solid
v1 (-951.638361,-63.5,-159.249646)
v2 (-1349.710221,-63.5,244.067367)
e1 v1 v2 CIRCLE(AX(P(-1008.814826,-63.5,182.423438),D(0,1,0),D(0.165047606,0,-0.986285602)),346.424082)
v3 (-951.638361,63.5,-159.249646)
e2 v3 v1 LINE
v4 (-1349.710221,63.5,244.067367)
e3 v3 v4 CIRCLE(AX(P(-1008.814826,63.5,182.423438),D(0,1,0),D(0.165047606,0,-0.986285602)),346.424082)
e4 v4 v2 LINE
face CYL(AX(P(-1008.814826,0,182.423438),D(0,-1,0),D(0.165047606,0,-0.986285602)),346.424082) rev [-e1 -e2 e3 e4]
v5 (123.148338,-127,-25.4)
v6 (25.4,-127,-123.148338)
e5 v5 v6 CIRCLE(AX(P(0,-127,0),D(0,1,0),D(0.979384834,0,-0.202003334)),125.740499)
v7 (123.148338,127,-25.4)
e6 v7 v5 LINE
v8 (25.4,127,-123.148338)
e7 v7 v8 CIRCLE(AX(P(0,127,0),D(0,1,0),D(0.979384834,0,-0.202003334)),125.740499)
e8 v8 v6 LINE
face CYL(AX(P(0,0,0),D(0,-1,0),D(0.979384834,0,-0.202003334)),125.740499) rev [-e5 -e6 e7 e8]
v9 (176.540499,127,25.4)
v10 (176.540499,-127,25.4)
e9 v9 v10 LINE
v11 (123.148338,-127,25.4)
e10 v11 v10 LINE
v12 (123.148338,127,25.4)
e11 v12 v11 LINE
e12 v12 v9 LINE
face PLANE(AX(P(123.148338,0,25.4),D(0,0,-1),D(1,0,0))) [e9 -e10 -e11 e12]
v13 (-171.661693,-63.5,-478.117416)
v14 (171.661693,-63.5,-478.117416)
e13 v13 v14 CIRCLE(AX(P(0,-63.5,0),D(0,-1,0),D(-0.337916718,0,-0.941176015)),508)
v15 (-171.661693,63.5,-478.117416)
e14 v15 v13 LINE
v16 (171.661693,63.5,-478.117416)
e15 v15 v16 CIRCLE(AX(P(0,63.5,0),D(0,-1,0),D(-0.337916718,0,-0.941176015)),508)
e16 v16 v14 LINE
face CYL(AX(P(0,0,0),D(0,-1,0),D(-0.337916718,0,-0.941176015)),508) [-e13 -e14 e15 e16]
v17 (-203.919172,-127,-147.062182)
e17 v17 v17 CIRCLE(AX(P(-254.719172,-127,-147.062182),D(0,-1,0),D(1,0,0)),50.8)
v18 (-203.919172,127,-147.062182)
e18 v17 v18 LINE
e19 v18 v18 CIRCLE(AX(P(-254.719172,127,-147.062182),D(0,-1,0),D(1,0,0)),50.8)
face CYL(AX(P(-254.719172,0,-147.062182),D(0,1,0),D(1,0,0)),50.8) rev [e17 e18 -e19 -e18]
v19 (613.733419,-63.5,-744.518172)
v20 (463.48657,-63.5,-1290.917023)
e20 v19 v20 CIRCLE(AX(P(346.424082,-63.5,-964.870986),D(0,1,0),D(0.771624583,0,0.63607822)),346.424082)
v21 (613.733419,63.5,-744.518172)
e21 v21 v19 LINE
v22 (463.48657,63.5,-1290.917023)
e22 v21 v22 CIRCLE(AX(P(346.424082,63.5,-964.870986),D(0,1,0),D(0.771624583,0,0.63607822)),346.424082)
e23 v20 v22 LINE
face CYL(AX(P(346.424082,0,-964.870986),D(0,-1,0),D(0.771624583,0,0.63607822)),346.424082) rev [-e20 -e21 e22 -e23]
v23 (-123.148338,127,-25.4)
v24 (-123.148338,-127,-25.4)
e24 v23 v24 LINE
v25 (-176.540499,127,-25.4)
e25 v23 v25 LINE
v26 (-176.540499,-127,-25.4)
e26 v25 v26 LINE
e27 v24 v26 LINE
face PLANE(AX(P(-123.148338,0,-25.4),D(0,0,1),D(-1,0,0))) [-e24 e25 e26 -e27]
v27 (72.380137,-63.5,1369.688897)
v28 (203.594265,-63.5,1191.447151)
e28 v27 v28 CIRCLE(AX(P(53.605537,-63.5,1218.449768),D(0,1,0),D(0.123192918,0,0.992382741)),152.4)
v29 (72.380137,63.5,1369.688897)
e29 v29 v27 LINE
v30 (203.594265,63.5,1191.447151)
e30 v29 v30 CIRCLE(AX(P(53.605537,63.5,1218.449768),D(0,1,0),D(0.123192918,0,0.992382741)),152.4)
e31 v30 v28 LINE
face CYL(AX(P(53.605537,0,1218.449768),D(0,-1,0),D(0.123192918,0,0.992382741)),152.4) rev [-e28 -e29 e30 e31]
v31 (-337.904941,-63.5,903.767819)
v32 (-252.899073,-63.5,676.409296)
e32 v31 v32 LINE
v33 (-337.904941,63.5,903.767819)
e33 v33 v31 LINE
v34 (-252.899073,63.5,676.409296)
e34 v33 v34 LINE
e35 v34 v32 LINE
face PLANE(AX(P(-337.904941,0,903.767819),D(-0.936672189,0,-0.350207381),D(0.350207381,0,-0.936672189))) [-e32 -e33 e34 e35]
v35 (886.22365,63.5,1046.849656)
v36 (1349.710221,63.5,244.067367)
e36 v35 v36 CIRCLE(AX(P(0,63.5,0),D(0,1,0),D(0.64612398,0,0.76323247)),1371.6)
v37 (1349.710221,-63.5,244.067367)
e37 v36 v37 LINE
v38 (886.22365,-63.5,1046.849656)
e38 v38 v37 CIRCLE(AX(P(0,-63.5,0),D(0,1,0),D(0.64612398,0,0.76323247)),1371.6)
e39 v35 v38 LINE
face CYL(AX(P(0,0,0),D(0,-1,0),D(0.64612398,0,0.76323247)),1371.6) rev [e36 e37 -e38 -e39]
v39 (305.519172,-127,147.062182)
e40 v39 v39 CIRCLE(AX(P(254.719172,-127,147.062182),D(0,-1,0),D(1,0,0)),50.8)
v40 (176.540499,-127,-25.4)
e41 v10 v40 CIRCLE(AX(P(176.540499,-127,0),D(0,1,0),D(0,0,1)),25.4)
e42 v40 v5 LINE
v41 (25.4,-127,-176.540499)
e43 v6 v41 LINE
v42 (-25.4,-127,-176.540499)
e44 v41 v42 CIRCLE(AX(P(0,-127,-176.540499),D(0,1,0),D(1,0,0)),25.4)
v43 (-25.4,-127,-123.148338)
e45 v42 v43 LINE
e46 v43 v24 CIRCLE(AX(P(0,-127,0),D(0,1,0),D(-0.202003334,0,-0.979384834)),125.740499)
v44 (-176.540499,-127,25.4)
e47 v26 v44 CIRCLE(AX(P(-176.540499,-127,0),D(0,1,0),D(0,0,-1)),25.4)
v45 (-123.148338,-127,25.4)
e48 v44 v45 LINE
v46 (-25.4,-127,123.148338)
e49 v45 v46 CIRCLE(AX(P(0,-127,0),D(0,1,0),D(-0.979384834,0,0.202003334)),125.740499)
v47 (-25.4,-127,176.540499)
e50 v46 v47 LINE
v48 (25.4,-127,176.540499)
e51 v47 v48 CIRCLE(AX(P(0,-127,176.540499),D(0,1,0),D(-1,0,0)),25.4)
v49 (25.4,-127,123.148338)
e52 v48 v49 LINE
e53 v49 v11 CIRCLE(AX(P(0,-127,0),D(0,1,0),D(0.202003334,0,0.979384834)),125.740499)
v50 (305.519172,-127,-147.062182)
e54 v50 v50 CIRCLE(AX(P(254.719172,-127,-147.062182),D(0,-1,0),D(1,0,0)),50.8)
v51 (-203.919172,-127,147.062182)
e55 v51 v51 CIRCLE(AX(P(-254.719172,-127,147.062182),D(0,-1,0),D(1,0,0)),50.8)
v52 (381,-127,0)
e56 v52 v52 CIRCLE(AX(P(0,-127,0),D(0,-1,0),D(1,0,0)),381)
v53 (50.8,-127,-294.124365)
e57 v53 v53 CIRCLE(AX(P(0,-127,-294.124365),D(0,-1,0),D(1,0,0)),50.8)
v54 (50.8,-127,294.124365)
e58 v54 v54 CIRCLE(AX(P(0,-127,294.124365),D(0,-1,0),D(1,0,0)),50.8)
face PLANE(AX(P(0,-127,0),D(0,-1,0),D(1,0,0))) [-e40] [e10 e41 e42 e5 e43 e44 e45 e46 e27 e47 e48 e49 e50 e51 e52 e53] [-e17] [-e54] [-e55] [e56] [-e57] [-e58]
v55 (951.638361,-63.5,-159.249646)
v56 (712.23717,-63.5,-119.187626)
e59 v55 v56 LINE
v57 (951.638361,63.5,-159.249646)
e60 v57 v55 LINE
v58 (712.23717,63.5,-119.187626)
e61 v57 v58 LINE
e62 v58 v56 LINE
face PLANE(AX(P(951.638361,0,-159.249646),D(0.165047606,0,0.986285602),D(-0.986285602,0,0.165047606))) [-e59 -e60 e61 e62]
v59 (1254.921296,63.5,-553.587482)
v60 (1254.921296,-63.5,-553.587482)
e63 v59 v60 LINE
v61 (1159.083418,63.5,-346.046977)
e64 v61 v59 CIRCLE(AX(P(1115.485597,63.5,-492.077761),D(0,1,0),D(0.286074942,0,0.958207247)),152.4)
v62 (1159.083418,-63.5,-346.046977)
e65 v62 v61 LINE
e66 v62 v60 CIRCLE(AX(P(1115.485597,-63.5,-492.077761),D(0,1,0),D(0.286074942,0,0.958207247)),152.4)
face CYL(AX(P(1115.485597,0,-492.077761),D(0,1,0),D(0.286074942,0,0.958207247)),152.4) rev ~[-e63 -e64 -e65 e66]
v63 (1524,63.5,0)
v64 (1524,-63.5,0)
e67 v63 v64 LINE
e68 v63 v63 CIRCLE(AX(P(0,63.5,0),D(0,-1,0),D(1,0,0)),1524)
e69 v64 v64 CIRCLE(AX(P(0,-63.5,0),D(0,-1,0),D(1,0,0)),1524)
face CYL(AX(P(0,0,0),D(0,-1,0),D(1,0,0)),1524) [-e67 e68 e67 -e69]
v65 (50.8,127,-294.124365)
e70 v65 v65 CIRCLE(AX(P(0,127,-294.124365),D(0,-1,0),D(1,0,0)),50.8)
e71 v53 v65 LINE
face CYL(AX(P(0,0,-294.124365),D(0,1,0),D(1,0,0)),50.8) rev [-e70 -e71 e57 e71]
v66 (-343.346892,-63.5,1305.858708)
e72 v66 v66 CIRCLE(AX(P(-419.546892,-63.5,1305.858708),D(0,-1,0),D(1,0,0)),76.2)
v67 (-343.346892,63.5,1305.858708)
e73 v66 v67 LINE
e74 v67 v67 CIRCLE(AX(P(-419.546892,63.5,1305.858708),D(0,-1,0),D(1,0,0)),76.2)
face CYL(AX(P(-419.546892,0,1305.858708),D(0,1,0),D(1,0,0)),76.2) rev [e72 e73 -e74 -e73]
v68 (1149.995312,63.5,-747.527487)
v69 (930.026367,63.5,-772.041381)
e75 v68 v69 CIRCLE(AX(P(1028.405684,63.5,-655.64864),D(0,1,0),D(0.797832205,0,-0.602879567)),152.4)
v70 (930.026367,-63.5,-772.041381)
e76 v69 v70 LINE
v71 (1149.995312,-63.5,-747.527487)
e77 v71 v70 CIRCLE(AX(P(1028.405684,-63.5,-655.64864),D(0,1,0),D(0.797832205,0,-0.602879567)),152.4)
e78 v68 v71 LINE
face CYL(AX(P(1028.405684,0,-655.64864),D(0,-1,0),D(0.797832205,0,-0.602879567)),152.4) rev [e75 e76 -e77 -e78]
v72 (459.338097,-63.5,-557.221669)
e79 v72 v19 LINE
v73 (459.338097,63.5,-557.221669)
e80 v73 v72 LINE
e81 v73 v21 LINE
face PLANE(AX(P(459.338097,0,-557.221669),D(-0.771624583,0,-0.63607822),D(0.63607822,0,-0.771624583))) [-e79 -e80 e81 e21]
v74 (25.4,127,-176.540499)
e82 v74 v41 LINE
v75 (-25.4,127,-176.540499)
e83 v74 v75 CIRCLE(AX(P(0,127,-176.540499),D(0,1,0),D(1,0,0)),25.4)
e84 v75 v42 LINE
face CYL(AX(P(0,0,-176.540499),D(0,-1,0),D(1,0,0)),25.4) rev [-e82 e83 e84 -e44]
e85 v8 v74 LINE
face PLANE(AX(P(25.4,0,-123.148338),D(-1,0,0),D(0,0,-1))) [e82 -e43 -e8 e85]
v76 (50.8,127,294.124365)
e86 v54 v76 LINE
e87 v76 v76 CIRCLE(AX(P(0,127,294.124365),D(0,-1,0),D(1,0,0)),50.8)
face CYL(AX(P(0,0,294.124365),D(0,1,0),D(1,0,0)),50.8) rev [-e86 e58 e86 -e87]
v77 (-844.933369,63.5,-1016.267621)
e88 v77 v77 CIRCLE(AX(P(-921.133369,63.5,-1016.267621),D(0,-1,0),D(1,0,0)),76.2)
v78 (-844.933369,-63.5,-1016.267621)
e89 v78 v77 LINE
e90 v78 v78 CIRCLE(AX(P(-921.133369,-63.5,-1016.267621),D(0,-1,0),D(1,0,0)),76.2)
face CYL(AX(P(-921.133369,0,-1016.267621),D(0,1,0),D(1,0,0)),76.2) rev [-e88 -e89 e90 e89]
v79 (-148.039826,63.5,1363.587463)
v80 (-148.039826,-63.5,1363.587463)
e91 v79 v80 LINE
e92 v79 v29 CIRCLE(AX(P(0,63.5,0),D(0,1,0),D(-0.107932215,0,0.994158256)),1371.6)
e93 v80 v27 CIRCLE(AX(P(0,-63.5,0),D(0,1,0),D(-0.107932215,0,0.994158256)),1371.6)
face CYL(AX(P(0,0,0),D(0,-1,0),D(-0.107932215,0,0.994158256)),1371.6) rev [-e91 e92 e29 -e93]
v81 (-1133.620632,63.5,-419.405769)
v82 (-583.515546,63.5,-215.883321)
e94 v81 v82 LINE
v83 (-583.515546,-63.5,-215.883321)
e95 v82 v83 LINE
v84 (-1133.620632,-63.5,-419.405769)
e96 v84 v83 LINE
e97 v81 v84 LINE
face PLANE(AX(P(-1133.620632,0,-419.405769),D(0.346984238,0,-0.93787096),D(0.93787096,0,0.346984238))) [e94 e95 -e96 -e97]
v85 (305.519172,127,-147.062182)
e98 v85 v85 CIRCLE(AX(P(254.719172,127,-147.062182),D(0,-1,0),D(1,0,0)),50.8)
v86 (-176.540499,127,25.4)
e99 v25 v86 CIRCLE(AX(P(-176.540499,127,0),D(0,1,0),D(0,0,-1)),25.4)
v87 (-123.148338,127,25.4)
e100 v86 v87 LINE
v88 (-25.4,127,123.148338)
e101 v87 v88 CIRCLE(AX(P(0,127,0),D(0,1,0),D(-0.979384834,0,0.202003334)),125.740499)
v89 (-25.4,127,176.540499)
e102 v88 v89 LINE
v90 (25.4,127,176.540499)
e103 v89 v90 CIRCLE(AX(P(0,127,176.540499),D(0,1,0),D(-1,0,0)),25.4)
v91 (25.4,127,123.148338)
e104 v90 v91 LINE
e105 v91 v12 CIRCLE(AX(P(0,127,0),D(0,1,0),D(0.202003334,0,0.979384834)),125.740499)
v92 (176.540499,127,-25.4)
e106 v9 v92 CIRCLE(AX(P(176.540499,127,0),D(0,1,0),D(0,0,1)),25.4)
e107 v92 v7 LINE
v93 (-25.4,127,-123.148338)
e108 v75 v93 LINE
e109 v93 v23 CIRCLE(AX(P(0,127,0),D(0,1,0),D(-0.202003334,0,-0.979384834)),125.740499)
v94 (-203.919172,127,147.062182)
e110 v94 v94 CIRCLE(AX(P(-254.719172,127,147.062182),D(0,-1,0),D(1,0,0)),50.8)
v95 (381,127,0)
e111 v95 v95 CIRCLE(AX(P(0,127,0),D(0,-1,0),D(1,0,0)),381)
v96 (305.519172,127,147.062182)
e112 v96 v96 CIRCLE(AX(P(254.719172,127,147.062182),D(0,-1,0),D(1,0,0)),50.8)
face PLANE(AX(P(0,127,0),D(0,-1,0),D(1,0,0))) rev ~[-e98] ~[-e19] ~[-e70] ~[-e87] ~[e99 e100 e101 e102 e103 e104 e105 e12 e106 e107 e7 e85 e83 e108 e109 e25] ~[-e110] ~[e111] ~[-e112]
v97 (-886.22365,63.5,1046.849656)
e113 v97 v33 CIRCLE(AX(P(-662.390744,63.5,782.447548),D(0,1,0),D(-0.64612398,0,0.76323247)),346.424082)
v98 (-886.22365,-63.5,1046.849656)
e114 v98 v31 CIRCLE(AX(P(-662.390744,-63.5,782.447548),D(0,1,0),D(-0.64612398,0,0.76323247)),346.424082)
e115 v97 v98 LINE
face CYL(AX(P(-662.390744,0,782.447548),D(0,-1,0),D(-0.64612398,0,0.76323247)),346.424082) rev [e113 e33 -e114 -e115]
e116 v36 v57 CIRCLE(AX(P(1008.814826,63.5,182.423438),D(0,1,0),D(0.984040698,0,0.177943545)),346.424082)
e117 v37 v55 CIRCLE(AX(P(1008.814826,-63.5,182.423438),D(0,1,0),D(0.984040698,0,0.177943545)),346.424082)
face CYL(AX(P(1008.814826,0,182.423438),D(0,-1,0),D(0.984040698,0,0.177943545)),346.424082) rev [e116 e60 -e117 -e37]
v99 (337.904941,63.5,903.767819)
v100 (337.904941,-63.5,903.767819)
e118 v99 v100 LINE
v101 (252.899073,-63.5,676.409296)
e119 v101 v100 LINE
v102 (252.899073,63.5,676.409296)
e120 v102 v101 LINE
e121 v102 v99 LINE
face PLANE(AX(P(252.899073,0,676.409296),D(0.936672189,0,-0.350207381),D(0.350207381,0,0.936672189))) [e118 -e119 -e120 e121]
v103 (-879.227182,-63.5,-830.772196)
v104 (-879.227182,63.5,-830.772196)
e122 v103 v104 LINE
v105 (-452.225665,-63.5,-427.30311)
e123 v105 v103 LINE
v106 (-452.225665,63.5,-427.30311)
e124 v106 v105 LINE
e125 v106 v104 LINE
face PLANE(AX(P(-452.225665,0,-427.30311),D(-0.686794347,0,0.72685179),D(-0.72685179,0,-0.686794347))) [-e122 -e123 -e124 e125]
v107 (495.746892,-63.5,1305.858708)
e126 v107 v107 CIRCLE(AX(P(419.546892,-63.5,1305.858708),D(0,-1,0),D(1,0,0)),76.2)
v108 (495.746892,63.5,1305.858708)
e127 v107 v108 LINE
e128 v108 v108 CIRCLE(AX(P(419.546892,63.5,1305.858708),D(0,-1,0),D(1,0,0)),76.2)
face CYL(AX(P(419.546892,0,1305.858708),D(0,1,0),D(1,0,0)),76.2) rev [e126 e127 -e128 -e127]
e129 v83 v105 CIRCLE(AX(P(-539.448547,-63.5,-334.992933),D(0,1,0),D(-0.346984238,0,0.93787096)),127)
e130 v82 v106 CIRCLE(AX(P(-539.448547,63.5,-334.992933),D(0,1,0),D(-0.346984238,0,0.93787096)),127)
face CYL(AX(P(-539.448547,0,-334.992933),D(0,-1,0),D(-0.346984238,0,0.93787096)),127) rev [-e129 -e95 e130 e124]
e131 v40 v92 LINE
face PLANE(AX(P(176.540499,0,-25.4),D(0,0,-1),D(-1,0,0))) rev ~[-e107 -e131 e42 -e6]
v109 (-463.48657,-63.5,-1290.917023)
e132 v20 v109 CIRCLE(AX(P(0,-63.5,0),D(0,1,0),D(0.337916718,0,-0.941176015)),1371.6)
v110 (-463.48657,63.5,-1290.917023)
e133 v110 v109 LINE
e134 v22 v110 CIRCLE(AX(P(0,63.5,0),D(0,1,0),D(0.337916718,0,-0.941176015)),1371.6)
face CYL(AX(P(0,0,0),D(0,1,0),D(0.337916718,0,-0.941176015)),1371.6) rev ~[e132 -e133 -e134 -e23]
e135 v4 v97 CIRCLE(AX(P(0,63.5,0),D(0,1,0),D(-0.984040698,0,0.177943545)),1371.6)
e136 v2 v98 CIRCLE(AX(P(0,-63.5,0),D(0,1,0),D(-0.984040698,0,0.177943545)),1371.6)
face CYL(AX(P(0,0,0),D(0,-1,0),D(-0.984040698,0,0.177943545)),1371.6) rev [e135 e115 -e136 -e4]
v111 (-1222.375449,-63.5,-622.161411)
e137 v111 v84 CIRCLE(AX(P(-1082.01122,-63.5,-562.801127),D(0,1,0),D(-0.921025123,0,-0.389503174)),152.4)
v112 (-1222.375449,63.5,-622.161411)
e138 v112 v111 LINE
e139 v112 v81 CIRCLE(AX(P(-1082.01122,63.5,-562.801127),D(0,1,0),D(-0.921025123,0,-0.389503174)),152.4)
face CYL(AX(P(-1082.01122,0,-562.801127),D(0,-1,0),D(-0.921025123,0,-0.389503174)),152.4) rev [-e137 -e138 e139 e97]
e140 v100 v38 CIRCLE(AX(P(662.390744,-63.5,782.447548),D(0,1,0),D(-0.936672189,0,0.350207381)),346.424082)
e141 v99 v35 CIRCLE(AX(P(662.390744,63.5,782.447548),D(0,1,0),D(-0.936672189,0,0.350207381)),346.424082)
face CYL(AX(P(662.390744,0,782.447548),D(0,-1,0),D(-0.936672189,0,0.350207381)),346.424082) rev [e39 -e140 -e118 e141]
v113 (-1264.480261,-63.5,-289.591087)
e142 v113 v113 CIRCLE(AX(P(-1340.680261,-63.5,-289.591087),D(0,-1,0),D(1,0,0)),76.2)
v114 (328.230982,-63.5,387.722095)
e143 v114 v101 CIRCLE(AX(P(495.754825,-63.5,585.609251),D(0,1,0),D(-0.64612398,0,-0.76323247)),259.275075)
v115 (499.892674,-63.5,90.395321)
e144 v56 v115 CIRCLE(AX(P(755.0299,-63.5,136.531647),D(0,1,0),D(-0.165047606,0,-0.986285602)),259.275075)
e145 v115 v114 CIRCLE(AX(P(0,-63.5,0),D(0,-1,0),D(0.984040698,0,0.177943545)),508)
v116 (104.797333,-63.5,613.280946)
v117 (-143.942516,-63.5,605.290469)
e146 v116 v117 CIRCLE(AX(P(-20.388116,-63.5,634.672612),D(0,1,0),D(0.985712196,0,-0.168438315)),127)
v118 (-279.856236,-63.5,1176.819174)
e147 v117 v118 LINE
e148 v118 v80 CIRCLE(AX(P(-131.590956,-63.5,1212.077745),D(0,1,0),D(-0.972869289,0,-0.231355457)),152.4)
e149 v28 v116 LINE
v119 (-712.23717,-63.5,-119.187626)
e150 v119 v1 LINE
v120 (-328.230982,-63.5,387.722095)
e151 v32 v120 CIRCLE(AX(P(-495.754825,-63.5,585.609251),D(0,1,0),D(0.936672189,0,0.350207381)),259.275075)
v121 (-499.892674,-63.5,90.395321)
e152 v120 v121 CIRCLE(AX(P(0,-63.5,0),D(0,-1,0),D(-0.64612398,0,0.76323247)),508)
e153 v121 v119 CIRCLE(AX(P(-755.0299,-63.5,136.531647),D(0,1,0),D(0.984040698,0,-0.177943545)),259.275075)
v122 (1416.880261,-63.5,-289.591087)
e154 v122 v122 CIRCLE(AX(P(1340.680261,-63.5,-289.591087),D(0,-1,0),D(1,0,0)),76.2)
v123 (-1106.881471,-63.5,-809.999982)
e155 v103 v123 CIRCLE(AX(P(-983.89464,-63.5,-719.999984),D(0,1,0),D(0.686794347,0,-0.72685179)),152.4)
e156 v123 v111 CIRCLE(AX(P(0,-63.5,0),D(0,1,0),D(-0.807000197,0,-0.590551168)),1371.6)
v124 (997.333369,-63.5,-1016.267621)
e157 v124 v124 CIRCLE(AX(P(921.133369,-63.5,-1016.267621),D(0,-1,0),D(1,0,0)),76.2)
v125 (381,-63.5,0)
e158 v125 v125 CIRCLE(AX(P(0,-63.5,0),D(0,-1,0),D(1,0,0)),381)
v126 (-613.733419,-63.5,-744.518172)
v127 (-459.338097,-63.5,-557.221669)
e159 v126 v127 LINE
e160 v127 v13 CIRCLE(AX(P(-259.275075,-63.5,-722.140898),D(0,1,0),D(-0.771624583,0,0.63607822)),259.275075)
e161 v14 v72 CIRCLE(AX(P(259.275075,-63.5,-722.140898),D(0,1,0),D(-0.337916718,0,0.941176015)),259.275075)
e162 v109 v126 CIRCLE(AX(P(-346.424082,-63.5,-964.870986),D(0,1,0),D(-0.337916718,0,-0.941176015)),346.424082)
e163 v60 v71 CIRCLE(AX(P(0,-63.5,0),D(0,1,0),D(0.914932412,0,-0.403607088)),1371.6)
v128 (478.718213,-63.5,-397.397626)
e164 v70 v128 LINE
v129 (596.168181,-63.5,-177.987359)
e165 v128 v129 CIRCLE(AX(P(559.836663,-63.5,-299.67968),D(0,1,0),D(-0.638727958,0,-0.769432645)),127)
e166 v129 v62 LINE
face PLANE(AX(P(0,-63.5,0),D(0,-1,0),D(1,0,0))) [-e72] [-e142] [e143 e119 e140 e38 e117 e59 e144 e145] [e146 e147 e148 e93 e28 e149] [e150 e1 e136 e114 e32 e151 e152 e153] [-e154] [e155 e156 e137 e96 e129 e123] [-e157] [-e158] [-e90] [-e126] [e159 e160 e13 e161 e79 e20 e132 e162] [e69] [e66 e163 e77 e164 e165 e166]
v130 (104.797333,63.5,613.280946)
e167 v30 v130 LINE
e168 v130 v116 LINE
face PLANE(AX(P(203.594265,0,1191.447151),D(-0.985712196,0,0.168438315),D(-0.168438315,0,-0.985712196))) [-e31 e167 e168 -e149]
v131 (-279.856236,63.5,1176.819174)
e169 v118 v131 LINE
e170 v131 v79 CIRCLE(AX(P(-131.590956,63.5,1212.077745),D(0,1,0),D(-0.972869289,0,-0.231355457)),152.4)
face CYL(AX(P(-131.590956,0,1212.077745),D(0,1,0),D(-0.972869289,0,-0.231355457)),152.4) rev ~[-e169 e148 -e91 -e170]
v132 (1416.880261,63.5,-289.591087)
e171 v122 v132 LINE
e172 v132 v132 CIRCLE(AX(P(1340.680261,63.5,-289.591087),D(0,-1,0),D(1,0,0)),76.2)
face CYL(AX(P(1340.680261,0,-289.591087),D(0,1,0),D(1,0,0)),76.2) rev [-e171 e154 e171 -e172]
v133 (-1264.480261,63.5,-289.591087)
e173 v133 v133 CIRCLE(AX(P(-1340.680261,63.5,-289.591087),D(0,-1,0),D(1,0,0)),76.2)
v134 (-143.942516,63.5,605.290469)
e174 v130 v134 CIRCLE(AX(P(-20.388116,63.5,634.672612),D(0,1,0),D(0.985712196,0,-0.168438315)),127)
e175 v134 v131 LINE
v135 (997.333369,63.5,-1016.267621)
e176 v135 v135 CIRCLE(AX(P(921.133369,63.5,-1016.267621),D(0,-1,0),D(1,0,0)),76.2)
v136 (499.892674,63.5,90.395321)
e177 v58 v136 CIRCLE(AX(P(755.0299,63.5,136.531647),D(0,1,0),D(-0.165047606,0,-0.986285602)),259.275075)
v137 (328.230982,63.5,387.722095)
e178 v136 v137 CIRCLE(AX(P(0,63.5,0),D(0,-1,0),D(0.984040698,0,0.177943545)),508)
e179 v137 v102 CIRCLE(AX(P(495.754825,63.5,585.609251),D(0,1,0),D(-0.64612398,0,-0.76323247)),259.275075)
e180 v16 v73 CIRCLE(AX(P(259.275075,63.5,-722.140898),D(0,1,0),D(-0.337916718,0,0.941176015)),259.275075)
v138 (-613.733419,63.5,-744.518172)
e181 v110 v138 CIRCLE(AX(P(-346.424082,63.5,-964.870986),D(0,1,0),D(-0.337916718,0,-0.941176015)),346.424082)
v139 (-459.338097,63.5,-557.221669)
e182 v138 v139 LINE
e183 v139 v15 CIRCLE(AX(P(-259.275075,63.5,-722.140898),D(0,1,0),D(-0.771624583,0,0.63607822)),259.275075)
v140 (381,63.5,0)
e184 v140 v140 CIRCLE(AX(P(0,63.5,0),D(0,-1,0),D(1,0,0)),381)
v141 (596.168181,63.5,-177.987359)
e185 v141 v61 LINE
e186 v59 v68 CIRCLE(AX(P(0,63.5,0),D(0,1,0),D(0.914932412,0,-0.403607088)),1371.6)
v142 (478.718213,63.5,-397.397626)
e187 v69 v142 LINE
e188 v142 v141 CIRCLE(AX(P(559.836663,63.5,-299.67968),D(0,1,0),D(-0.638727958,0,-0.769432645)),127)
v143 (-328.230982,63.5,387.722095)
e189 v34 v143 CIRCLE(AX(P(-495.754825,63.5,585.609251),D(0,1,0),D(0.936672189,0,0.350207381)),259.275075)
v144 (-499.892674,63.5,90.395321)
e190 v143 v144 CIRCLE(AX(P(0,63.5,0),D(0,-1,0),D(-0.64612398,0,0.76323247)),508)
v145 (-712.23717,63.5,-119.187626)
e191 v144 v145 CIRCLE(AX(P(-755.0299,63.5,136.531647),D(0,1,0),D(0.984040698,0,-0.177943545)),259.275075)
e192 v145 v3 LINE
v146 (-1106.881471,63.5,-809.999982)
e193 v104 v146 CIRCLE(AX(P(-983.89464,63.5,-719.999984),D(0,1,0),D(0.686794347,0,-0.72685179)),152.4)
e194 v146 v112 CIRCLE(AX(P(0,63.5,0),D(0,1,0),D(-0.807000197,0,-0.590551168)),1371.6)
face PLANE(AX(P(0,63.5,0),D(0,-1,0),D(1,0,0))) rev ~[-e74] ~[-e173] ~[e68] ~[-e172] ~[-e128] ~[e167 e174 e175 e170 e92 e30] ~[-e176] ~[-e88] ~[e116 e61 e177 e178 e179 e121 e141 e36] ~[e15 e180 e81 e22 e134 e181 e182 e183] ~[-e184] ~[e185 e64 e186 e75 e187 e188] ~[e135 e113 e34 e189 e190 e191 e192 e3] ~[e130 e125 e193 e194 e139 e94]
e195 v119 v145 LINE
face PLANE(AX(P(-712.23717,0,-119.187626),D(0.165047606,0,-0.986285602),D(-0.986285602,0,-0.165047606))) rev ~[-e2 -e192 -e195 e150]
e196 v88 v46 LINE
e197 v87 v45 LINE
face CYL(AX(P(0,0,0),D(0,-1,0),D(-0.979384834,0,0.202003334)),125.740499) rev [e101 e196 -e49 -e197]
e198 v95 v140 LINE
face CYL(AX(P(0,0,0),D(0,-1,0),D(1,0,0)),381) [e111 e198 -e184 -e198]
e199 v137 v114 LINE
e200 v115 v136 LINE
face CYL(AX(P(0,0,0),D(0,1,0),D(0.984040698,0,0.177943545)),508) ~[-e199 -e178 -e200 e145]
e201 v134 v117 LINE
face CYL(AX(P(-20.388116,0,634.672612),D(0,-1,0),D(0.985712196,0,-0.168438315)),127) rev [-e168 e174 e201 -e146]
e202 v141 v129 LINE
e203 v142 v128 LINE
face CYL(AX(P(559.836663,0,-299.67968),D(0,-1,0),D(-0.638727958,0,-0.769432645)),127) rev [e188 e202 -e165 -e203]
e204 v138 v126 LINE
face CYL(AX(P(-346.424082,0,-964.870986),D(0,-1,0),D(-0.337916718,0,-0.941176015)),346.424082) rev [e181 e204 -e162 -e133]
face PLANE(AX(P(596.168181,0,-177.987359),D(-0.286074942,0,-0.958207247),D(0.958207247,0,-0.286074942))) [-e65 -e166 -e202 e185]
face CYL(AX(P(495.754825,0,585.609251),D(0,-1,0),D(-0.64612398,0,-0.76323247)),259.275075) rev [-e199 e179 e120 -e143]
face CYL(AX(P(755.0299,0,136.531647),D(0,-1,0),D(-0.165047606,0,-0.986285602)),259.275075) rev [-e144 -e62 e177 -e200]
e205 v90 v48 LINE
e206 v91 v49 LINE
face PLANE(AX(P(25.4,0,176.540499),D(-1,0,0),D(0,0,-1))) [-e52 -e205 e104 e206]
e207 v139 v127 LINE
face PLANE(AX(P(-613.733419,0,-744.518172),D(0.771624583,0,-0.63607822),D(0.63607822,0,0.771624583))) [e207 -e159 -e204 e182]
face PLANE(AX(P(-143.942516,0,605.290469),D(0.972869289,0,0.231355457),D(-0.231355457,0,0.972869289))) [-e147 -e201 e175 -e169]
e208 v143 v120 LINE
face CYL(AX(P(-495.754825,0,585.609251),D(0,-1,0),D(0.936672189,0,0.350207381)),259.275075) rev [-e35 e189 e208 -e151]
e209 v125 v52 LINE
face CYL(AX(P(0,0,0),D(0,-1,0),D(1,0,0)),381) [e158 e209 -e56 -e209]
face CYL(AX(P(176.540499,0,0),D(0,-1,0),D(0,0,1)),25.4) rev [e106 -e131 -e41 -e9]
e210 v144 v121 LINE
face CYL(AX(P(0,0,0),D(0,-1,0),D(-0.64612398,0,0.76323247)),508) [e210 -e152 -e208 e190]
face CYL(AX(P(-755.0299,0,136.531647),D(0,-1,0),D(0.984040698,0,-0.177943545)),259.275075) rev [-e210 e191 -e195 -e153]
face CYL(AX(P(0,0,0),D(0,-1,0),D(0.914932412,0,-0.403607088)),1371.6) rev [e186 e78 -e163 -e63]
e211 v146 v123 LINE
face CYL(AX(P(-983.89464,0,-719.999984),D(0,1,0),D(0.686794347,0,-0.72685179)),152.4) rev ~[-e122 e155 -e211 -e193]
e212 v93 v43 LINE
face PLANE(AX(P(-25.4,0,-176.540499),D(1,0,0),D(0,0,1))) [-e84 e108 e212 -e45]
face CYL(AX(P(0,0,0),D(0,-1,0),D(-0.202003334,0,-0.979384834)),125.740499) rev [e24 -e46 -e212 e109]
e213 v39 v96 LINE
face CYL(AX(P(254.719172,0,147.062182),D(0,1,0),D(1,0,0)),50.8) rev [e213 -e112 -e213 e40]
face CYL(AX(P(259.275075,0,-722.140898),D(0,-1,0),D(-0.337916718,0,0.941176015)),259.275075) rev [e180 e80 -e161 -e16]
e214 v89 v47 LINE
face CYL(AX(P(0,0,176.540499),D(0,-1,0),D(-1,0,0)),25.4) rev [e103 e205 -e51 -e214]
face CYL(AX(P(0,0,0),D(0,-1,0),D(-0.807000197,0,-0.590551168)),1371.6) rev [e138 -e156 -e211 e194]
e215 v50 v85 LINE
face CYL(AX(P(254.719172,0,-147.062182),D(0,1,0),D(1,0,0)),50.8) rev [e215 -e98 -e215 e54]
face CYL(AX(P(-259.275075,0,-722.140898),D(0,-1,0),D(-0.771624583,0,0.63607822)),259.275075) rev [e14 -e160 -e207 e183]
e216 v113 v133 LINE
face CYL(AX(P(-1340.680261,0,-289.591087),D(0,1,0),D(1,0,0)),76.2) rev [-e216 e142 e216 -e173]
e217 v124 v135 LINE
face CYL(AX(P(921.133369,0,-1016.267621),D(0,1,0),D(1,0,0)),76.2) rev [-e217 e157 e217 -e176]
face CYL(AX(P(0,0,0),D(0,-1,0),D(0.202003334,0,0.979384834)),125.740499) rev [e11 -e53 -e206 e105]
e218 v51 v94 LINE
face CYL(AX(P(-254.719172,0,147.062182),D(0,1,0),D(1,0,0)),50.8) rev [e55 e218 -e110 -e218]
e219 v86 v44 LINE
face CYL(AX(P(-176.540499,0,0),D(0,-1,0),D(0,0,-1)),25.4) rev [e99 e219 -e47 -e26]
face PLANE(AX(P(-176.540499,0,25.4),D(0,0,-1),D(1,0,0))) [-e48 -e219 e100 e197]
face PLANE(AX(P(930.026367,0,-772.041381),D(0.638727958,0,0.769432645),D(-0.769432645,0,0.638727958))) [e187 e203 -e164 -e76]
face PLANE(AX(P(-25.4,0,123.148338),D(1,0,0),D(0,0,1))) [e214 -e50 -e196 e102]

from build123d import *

# Parameters (mm, degrees)
F0_R     = 1524
F0_R_2   = 76.2
F0_R_3   = 381
F1_DEPTH = 63.5
F0_R_4   = 50.8
F2_DEPTH = 127


with BuildPart() as f1:
    # F0 (on Front) → F1 (new body, symmetric)
    with BuildSketch(Plane.XZ):
        Circle(F0_R)
        with Locations((-921.1333688435, -1016.2676206605)):
            Circle(F0_R_2, mode=Mode.SUBTRACT)
        with BuildLine():
            ThreePointArc((-583.5155455446, -215.8833205871), (-431.558837808, -267.9943460408), (-452.2256651945, -427.3031099108))
            Line((-452.2256651945, -427.3031099108), (-879.2271819871, -830.7721964865))
            ThreePointArc((-879.2271819871, -830.7721964865), (-997.7427837156, -871.7695093459), (-1106.8814705239, -809.9999816116))
            ThreePointArc((-1106.8814705239, -809.9999816116), (-1168.4092954393, -718.4053718695), (-1222.3754491891, -622.1614109054))
            ThreePointArc((-1222.3754491891, -622.1614109054), (-1221.6211491859, -501.6878897183), (-1133.6206323261, -419.4057694971))
            Line((-1133.6206323261, -419.4057694971), (-583.5155455446, -215.8833205871))
        make_face(mode=Mode.SUBTRACT)
        with Locations((-1340.6802609573, -289.5910873618)):
            Circle(F0_R_2, mode=Mode.SUBTRACT)
        with BuildLine():
            ThreePointArc((171.6616927457, -478.1174157502), (328.0180828106, -472.1449708565), (459.3380971304, -557.2216694947))
            Line((459.3380971304, -557.2216694947), (613.7334194013, -744.5181723875))
            ThreePointArc((613.7334194013, -744.5181723875), (680.450055377, -1056.720282291), (463.4865704134, -1290.9170225256))
            ThreePointArc((463.4865704134, -1290.9170225256), (0, -1371.6), (-463.4865704134, -1290.9170225256))
            ThreePointArc((-463.4865704134, -1290.9170225256), (-680.450055377, -1056.720282291), (-613.7334194013, -744.5181723875))
            Line((-613.7334194013, -744.5181723875), (-459.3380971304, -557.2216694947))
            ThreePointArc((-459.3380971304, -557.2216694947), (-328.0180828106, -472.1449708565), (-171.6616927457, -478.1174157502))
            ThreePointArc((-171.6616927457, -478.1174157502), (0, -508), (171.6616927457, -478.1174157502))
        make_face(mode=Mode.SUBTRACT)
        with Locations((921.1333688435, -1016.2676206605)):
            Circle(F0_R_2, mode=Mode.SUBTRACT)
        with BuildLine():
            ThreePointArc((478.7182126541, -397.3976256512), (447.8693306459, -239.743743749), (596.1681808961, -177.9873593464))
            Line((596.1681808961, -177.9873593464), (1159.0834179086, -346.0469770554))
            ThreePointArc((1159.0834179086, -346.0469770554), (1253.8459331961, -428.1858424674), (1254.9212964025, -553.5874816462))
            ThreePointArc((1254.9212964025, -553.5874816462), (1206.3619499739, -652.6694459336), (1149.995311693, -747.5274865075))
            ThreePointArc((1149.995311693, -747.5274865075), (1045.28503186, -807.1110041361), (930.0263670412, -772.0413811))
            Line((930.0263670412, -772.0413811), (478.7182126541, -397.3976256512))
        make_face(mode=Mode.SUBTRACT)
        with Locations((1340.6802609573, -289.5910873618)):
            Circle(F0_R_2, mode=Mode.SUBTRACT)
        with BuildLine():
            ThreePointArc((-252.8990727563, 676.4092957883), (-244.8804976255, 520.1444780429), (-328.2309816586, 387.7220946495))
            ThreePointArc((-328.2309816586, 387.7220946495), (-439.9409051225, 254), (-499.8926744043, 90.3953211007))
            ThreePointArc((-499.8926744043, 90.3953211007), (-572.8985804361, -47.9995071864), (-712.2371698868, -119.1876262936))
            Line((-712.2371698868, -119.1876262936), (-951.6383605674, -159.2496461593))
            ThreePointArc((-951.6383605674, -159.2496461593), (-1255.3716368467, -60.9268928175), (-1349.7102208917, 244.0673669719))
            ThreePointArc((-1349.7102208917, 244.0673669719), (-1187.8404438307, 685.8), (-886.2236504783, 1046.8496555537))
            ThreePointArc((-886.2236504783, 1046.8496555537), (-574.9215814697, 1117.6471751085), (-337.904941166, 903.7678185468))
            Line((-337.904941166, 903.7678185468), (-252.8990727563, 676.4092957883))
        make_face(mode=Mode.SUBTRACT)
        with BuildLine():
            ThreePointArc((104.7973328905, 613.2809462384), (-16.3104928379, 507.7380897898), (-143.9425157016, 605.2904692571))
            Line((-143.9425157016, 605.2904692571), (-279.8562359215, 1176.8191735419))
            ThreePointArc((-279.8562359215, 1176.8191735419), (-256.1031494805, 1299.9553518133), (-148.0398258786, 1363.5874632578))
            ThreePointArc((-148.0398258786, 1363.5874632578), (-37.9526545346, 1371.0748178031), (72.3801374961, 1369.6888974129))
            ThreePointArc((72.3801374961, 1369.6888974129), (176.3361173259, 1308.7988938545), (203.5942652848, 1191.4471505971))
            Line((203.5942652848, 1191.4471505971), (104.7973328905, 613.2809462384))
        make_face(mode=Mode.SUBTRACT)
        with Locations((-419.5468921138, 1305.8587080223)):
            Circle(F0_R_2, mode=Mode.SUBTRACT)
        Circle(F0_R_3, mode=Mode.SUBTRACT)
        with BuildLine():
            ThreePointArc((1349.7102208917, 244.0673669719), (1255.3716368467, -60.9268928175), (951.6383605674, -159.2496461593))
            Line((951.6383605674, -159.2496461593), (712.2371698868, -119.1876262936))
            ThreePointArc((712.2371698868, -119.1876262936), (572.8985804361, -47.9995071864), (499.8926744043, 90.3953211007))
            ThreePointArc((499.8926744043, 90.3953211007), (439.9409051225, 254), (328.2309816586, 387.7220946495))
            ThreePointArc((328.2309816586, 387.7220946495), (244.8804976255, 520.1444780429), (252.8990727563, 676.4092957883))
            Line((252.8990727563, 676.4092957883), (337.904941166, 903.7678185468))
            ThreePointArc((337.904941166, 903.7678185468), (574.9215814697, 1117.6471751085), (886.2236504783, 1046.8496555537))
            ThreePointArc((886.2236504783, 1046.8496555537), (1187.8404438307, 685.8), (1349.7102208917, 244.0673669719))
        make_face(mode=Mode.SUBTRACT)
        with Locations((419.5468921138, 1305.8587080223)):
            Circle(F0_R_2, mode=Mode.SUBTRACT)
    extrude(amount=F1_DEPTH, both=True)

    # F0 (on Front) → F2 (join, symmetric)
    with BuildSketch(Plane.XZ):
        Circle(F0_R_3)
        with Locations((-254.7191718346, -147.0621824265)):
            Circle(F0_R_4, mode=Mode.SUBTRACT)
        with Locations((0, -294.1243648529)):
            Circle(F0_R_4, mode=Mode.SUBTRACT)
        with Locations((254.7191718346, -147.0621824265)):
            Circle(F0_R_4, mode=Mode.SUBTRACT)
        with Locations((-254.7191718346, 147.0621824265)):
            Circle(F0_R_4, mode=Mode.SUBTRACT)
        with BuildLine():
            ThreePointArc((-123.1483378182, 25.4), (-88.911959565, 88.911959565), (-25.4, 123.1483378182))
            Line((-25.4, 123.1483378182), (-25.4, 176.540499074))
            ThreePointArc((-25.4, 176.540499074), (0, 201.940499074), (25.4, 176.540499074))
            Line((25.4, 176.540499074), (25.4, 123.1483378182))
            ThreePointArc((25.4, 123.1483378182), (88.911959565, 88.911959565), (123.1483378182, 25.4))
            Line((123.1483378182, 25.4), (176.540499074, 25.4))
            ThreePointArc((176.540499074, 25.4), (201.940499074, 0), (176.540499074, -25.4))
            Line((176.540499074, -25.4), (123.1483378182, -25.4))
            ThreePointArc((123.1483378182, -25.4), (88.911959565, -88.911959565), (25.4, -123.1483378182))
            Line((25.4, -123.1483378182), (25.4, -176.540499074))
            ThreePointArc((25.4, -176.540499074), (0, -201.940499074), (-25.4, -176.540499074))
            Line((-25.4, -176.540499074), (-25.4, -123.1483378182))
            ThreePointArc((-25.4, -123.1483378182), (-88.911959565, -88.911959565), (-123.1483378182, -25.4))
            Line((-123.1483378182, -25.4), (-176.540499074, -25.4))
            ThreePointArc((-176.540499074, -25.4), (-201.940499074, 0), (-176.540499074, 25.4))
            Line((-176.540499074, 25.4), (-123.1483378182, 25.4))
        make_face(mode=Mode.SUBTRACT)
        with Locations((254.7191718346, 147.0621824265)):
            Circle(F0_R_4, mode=Mode.SUBTRACT)
        with Locations((0, 294.1243648529)):
            Circle(F0_R_4, mode=Mode.SUBTRACT)
    extrude(amount=F2_DEPTH, both=True)


solid = f1.part
